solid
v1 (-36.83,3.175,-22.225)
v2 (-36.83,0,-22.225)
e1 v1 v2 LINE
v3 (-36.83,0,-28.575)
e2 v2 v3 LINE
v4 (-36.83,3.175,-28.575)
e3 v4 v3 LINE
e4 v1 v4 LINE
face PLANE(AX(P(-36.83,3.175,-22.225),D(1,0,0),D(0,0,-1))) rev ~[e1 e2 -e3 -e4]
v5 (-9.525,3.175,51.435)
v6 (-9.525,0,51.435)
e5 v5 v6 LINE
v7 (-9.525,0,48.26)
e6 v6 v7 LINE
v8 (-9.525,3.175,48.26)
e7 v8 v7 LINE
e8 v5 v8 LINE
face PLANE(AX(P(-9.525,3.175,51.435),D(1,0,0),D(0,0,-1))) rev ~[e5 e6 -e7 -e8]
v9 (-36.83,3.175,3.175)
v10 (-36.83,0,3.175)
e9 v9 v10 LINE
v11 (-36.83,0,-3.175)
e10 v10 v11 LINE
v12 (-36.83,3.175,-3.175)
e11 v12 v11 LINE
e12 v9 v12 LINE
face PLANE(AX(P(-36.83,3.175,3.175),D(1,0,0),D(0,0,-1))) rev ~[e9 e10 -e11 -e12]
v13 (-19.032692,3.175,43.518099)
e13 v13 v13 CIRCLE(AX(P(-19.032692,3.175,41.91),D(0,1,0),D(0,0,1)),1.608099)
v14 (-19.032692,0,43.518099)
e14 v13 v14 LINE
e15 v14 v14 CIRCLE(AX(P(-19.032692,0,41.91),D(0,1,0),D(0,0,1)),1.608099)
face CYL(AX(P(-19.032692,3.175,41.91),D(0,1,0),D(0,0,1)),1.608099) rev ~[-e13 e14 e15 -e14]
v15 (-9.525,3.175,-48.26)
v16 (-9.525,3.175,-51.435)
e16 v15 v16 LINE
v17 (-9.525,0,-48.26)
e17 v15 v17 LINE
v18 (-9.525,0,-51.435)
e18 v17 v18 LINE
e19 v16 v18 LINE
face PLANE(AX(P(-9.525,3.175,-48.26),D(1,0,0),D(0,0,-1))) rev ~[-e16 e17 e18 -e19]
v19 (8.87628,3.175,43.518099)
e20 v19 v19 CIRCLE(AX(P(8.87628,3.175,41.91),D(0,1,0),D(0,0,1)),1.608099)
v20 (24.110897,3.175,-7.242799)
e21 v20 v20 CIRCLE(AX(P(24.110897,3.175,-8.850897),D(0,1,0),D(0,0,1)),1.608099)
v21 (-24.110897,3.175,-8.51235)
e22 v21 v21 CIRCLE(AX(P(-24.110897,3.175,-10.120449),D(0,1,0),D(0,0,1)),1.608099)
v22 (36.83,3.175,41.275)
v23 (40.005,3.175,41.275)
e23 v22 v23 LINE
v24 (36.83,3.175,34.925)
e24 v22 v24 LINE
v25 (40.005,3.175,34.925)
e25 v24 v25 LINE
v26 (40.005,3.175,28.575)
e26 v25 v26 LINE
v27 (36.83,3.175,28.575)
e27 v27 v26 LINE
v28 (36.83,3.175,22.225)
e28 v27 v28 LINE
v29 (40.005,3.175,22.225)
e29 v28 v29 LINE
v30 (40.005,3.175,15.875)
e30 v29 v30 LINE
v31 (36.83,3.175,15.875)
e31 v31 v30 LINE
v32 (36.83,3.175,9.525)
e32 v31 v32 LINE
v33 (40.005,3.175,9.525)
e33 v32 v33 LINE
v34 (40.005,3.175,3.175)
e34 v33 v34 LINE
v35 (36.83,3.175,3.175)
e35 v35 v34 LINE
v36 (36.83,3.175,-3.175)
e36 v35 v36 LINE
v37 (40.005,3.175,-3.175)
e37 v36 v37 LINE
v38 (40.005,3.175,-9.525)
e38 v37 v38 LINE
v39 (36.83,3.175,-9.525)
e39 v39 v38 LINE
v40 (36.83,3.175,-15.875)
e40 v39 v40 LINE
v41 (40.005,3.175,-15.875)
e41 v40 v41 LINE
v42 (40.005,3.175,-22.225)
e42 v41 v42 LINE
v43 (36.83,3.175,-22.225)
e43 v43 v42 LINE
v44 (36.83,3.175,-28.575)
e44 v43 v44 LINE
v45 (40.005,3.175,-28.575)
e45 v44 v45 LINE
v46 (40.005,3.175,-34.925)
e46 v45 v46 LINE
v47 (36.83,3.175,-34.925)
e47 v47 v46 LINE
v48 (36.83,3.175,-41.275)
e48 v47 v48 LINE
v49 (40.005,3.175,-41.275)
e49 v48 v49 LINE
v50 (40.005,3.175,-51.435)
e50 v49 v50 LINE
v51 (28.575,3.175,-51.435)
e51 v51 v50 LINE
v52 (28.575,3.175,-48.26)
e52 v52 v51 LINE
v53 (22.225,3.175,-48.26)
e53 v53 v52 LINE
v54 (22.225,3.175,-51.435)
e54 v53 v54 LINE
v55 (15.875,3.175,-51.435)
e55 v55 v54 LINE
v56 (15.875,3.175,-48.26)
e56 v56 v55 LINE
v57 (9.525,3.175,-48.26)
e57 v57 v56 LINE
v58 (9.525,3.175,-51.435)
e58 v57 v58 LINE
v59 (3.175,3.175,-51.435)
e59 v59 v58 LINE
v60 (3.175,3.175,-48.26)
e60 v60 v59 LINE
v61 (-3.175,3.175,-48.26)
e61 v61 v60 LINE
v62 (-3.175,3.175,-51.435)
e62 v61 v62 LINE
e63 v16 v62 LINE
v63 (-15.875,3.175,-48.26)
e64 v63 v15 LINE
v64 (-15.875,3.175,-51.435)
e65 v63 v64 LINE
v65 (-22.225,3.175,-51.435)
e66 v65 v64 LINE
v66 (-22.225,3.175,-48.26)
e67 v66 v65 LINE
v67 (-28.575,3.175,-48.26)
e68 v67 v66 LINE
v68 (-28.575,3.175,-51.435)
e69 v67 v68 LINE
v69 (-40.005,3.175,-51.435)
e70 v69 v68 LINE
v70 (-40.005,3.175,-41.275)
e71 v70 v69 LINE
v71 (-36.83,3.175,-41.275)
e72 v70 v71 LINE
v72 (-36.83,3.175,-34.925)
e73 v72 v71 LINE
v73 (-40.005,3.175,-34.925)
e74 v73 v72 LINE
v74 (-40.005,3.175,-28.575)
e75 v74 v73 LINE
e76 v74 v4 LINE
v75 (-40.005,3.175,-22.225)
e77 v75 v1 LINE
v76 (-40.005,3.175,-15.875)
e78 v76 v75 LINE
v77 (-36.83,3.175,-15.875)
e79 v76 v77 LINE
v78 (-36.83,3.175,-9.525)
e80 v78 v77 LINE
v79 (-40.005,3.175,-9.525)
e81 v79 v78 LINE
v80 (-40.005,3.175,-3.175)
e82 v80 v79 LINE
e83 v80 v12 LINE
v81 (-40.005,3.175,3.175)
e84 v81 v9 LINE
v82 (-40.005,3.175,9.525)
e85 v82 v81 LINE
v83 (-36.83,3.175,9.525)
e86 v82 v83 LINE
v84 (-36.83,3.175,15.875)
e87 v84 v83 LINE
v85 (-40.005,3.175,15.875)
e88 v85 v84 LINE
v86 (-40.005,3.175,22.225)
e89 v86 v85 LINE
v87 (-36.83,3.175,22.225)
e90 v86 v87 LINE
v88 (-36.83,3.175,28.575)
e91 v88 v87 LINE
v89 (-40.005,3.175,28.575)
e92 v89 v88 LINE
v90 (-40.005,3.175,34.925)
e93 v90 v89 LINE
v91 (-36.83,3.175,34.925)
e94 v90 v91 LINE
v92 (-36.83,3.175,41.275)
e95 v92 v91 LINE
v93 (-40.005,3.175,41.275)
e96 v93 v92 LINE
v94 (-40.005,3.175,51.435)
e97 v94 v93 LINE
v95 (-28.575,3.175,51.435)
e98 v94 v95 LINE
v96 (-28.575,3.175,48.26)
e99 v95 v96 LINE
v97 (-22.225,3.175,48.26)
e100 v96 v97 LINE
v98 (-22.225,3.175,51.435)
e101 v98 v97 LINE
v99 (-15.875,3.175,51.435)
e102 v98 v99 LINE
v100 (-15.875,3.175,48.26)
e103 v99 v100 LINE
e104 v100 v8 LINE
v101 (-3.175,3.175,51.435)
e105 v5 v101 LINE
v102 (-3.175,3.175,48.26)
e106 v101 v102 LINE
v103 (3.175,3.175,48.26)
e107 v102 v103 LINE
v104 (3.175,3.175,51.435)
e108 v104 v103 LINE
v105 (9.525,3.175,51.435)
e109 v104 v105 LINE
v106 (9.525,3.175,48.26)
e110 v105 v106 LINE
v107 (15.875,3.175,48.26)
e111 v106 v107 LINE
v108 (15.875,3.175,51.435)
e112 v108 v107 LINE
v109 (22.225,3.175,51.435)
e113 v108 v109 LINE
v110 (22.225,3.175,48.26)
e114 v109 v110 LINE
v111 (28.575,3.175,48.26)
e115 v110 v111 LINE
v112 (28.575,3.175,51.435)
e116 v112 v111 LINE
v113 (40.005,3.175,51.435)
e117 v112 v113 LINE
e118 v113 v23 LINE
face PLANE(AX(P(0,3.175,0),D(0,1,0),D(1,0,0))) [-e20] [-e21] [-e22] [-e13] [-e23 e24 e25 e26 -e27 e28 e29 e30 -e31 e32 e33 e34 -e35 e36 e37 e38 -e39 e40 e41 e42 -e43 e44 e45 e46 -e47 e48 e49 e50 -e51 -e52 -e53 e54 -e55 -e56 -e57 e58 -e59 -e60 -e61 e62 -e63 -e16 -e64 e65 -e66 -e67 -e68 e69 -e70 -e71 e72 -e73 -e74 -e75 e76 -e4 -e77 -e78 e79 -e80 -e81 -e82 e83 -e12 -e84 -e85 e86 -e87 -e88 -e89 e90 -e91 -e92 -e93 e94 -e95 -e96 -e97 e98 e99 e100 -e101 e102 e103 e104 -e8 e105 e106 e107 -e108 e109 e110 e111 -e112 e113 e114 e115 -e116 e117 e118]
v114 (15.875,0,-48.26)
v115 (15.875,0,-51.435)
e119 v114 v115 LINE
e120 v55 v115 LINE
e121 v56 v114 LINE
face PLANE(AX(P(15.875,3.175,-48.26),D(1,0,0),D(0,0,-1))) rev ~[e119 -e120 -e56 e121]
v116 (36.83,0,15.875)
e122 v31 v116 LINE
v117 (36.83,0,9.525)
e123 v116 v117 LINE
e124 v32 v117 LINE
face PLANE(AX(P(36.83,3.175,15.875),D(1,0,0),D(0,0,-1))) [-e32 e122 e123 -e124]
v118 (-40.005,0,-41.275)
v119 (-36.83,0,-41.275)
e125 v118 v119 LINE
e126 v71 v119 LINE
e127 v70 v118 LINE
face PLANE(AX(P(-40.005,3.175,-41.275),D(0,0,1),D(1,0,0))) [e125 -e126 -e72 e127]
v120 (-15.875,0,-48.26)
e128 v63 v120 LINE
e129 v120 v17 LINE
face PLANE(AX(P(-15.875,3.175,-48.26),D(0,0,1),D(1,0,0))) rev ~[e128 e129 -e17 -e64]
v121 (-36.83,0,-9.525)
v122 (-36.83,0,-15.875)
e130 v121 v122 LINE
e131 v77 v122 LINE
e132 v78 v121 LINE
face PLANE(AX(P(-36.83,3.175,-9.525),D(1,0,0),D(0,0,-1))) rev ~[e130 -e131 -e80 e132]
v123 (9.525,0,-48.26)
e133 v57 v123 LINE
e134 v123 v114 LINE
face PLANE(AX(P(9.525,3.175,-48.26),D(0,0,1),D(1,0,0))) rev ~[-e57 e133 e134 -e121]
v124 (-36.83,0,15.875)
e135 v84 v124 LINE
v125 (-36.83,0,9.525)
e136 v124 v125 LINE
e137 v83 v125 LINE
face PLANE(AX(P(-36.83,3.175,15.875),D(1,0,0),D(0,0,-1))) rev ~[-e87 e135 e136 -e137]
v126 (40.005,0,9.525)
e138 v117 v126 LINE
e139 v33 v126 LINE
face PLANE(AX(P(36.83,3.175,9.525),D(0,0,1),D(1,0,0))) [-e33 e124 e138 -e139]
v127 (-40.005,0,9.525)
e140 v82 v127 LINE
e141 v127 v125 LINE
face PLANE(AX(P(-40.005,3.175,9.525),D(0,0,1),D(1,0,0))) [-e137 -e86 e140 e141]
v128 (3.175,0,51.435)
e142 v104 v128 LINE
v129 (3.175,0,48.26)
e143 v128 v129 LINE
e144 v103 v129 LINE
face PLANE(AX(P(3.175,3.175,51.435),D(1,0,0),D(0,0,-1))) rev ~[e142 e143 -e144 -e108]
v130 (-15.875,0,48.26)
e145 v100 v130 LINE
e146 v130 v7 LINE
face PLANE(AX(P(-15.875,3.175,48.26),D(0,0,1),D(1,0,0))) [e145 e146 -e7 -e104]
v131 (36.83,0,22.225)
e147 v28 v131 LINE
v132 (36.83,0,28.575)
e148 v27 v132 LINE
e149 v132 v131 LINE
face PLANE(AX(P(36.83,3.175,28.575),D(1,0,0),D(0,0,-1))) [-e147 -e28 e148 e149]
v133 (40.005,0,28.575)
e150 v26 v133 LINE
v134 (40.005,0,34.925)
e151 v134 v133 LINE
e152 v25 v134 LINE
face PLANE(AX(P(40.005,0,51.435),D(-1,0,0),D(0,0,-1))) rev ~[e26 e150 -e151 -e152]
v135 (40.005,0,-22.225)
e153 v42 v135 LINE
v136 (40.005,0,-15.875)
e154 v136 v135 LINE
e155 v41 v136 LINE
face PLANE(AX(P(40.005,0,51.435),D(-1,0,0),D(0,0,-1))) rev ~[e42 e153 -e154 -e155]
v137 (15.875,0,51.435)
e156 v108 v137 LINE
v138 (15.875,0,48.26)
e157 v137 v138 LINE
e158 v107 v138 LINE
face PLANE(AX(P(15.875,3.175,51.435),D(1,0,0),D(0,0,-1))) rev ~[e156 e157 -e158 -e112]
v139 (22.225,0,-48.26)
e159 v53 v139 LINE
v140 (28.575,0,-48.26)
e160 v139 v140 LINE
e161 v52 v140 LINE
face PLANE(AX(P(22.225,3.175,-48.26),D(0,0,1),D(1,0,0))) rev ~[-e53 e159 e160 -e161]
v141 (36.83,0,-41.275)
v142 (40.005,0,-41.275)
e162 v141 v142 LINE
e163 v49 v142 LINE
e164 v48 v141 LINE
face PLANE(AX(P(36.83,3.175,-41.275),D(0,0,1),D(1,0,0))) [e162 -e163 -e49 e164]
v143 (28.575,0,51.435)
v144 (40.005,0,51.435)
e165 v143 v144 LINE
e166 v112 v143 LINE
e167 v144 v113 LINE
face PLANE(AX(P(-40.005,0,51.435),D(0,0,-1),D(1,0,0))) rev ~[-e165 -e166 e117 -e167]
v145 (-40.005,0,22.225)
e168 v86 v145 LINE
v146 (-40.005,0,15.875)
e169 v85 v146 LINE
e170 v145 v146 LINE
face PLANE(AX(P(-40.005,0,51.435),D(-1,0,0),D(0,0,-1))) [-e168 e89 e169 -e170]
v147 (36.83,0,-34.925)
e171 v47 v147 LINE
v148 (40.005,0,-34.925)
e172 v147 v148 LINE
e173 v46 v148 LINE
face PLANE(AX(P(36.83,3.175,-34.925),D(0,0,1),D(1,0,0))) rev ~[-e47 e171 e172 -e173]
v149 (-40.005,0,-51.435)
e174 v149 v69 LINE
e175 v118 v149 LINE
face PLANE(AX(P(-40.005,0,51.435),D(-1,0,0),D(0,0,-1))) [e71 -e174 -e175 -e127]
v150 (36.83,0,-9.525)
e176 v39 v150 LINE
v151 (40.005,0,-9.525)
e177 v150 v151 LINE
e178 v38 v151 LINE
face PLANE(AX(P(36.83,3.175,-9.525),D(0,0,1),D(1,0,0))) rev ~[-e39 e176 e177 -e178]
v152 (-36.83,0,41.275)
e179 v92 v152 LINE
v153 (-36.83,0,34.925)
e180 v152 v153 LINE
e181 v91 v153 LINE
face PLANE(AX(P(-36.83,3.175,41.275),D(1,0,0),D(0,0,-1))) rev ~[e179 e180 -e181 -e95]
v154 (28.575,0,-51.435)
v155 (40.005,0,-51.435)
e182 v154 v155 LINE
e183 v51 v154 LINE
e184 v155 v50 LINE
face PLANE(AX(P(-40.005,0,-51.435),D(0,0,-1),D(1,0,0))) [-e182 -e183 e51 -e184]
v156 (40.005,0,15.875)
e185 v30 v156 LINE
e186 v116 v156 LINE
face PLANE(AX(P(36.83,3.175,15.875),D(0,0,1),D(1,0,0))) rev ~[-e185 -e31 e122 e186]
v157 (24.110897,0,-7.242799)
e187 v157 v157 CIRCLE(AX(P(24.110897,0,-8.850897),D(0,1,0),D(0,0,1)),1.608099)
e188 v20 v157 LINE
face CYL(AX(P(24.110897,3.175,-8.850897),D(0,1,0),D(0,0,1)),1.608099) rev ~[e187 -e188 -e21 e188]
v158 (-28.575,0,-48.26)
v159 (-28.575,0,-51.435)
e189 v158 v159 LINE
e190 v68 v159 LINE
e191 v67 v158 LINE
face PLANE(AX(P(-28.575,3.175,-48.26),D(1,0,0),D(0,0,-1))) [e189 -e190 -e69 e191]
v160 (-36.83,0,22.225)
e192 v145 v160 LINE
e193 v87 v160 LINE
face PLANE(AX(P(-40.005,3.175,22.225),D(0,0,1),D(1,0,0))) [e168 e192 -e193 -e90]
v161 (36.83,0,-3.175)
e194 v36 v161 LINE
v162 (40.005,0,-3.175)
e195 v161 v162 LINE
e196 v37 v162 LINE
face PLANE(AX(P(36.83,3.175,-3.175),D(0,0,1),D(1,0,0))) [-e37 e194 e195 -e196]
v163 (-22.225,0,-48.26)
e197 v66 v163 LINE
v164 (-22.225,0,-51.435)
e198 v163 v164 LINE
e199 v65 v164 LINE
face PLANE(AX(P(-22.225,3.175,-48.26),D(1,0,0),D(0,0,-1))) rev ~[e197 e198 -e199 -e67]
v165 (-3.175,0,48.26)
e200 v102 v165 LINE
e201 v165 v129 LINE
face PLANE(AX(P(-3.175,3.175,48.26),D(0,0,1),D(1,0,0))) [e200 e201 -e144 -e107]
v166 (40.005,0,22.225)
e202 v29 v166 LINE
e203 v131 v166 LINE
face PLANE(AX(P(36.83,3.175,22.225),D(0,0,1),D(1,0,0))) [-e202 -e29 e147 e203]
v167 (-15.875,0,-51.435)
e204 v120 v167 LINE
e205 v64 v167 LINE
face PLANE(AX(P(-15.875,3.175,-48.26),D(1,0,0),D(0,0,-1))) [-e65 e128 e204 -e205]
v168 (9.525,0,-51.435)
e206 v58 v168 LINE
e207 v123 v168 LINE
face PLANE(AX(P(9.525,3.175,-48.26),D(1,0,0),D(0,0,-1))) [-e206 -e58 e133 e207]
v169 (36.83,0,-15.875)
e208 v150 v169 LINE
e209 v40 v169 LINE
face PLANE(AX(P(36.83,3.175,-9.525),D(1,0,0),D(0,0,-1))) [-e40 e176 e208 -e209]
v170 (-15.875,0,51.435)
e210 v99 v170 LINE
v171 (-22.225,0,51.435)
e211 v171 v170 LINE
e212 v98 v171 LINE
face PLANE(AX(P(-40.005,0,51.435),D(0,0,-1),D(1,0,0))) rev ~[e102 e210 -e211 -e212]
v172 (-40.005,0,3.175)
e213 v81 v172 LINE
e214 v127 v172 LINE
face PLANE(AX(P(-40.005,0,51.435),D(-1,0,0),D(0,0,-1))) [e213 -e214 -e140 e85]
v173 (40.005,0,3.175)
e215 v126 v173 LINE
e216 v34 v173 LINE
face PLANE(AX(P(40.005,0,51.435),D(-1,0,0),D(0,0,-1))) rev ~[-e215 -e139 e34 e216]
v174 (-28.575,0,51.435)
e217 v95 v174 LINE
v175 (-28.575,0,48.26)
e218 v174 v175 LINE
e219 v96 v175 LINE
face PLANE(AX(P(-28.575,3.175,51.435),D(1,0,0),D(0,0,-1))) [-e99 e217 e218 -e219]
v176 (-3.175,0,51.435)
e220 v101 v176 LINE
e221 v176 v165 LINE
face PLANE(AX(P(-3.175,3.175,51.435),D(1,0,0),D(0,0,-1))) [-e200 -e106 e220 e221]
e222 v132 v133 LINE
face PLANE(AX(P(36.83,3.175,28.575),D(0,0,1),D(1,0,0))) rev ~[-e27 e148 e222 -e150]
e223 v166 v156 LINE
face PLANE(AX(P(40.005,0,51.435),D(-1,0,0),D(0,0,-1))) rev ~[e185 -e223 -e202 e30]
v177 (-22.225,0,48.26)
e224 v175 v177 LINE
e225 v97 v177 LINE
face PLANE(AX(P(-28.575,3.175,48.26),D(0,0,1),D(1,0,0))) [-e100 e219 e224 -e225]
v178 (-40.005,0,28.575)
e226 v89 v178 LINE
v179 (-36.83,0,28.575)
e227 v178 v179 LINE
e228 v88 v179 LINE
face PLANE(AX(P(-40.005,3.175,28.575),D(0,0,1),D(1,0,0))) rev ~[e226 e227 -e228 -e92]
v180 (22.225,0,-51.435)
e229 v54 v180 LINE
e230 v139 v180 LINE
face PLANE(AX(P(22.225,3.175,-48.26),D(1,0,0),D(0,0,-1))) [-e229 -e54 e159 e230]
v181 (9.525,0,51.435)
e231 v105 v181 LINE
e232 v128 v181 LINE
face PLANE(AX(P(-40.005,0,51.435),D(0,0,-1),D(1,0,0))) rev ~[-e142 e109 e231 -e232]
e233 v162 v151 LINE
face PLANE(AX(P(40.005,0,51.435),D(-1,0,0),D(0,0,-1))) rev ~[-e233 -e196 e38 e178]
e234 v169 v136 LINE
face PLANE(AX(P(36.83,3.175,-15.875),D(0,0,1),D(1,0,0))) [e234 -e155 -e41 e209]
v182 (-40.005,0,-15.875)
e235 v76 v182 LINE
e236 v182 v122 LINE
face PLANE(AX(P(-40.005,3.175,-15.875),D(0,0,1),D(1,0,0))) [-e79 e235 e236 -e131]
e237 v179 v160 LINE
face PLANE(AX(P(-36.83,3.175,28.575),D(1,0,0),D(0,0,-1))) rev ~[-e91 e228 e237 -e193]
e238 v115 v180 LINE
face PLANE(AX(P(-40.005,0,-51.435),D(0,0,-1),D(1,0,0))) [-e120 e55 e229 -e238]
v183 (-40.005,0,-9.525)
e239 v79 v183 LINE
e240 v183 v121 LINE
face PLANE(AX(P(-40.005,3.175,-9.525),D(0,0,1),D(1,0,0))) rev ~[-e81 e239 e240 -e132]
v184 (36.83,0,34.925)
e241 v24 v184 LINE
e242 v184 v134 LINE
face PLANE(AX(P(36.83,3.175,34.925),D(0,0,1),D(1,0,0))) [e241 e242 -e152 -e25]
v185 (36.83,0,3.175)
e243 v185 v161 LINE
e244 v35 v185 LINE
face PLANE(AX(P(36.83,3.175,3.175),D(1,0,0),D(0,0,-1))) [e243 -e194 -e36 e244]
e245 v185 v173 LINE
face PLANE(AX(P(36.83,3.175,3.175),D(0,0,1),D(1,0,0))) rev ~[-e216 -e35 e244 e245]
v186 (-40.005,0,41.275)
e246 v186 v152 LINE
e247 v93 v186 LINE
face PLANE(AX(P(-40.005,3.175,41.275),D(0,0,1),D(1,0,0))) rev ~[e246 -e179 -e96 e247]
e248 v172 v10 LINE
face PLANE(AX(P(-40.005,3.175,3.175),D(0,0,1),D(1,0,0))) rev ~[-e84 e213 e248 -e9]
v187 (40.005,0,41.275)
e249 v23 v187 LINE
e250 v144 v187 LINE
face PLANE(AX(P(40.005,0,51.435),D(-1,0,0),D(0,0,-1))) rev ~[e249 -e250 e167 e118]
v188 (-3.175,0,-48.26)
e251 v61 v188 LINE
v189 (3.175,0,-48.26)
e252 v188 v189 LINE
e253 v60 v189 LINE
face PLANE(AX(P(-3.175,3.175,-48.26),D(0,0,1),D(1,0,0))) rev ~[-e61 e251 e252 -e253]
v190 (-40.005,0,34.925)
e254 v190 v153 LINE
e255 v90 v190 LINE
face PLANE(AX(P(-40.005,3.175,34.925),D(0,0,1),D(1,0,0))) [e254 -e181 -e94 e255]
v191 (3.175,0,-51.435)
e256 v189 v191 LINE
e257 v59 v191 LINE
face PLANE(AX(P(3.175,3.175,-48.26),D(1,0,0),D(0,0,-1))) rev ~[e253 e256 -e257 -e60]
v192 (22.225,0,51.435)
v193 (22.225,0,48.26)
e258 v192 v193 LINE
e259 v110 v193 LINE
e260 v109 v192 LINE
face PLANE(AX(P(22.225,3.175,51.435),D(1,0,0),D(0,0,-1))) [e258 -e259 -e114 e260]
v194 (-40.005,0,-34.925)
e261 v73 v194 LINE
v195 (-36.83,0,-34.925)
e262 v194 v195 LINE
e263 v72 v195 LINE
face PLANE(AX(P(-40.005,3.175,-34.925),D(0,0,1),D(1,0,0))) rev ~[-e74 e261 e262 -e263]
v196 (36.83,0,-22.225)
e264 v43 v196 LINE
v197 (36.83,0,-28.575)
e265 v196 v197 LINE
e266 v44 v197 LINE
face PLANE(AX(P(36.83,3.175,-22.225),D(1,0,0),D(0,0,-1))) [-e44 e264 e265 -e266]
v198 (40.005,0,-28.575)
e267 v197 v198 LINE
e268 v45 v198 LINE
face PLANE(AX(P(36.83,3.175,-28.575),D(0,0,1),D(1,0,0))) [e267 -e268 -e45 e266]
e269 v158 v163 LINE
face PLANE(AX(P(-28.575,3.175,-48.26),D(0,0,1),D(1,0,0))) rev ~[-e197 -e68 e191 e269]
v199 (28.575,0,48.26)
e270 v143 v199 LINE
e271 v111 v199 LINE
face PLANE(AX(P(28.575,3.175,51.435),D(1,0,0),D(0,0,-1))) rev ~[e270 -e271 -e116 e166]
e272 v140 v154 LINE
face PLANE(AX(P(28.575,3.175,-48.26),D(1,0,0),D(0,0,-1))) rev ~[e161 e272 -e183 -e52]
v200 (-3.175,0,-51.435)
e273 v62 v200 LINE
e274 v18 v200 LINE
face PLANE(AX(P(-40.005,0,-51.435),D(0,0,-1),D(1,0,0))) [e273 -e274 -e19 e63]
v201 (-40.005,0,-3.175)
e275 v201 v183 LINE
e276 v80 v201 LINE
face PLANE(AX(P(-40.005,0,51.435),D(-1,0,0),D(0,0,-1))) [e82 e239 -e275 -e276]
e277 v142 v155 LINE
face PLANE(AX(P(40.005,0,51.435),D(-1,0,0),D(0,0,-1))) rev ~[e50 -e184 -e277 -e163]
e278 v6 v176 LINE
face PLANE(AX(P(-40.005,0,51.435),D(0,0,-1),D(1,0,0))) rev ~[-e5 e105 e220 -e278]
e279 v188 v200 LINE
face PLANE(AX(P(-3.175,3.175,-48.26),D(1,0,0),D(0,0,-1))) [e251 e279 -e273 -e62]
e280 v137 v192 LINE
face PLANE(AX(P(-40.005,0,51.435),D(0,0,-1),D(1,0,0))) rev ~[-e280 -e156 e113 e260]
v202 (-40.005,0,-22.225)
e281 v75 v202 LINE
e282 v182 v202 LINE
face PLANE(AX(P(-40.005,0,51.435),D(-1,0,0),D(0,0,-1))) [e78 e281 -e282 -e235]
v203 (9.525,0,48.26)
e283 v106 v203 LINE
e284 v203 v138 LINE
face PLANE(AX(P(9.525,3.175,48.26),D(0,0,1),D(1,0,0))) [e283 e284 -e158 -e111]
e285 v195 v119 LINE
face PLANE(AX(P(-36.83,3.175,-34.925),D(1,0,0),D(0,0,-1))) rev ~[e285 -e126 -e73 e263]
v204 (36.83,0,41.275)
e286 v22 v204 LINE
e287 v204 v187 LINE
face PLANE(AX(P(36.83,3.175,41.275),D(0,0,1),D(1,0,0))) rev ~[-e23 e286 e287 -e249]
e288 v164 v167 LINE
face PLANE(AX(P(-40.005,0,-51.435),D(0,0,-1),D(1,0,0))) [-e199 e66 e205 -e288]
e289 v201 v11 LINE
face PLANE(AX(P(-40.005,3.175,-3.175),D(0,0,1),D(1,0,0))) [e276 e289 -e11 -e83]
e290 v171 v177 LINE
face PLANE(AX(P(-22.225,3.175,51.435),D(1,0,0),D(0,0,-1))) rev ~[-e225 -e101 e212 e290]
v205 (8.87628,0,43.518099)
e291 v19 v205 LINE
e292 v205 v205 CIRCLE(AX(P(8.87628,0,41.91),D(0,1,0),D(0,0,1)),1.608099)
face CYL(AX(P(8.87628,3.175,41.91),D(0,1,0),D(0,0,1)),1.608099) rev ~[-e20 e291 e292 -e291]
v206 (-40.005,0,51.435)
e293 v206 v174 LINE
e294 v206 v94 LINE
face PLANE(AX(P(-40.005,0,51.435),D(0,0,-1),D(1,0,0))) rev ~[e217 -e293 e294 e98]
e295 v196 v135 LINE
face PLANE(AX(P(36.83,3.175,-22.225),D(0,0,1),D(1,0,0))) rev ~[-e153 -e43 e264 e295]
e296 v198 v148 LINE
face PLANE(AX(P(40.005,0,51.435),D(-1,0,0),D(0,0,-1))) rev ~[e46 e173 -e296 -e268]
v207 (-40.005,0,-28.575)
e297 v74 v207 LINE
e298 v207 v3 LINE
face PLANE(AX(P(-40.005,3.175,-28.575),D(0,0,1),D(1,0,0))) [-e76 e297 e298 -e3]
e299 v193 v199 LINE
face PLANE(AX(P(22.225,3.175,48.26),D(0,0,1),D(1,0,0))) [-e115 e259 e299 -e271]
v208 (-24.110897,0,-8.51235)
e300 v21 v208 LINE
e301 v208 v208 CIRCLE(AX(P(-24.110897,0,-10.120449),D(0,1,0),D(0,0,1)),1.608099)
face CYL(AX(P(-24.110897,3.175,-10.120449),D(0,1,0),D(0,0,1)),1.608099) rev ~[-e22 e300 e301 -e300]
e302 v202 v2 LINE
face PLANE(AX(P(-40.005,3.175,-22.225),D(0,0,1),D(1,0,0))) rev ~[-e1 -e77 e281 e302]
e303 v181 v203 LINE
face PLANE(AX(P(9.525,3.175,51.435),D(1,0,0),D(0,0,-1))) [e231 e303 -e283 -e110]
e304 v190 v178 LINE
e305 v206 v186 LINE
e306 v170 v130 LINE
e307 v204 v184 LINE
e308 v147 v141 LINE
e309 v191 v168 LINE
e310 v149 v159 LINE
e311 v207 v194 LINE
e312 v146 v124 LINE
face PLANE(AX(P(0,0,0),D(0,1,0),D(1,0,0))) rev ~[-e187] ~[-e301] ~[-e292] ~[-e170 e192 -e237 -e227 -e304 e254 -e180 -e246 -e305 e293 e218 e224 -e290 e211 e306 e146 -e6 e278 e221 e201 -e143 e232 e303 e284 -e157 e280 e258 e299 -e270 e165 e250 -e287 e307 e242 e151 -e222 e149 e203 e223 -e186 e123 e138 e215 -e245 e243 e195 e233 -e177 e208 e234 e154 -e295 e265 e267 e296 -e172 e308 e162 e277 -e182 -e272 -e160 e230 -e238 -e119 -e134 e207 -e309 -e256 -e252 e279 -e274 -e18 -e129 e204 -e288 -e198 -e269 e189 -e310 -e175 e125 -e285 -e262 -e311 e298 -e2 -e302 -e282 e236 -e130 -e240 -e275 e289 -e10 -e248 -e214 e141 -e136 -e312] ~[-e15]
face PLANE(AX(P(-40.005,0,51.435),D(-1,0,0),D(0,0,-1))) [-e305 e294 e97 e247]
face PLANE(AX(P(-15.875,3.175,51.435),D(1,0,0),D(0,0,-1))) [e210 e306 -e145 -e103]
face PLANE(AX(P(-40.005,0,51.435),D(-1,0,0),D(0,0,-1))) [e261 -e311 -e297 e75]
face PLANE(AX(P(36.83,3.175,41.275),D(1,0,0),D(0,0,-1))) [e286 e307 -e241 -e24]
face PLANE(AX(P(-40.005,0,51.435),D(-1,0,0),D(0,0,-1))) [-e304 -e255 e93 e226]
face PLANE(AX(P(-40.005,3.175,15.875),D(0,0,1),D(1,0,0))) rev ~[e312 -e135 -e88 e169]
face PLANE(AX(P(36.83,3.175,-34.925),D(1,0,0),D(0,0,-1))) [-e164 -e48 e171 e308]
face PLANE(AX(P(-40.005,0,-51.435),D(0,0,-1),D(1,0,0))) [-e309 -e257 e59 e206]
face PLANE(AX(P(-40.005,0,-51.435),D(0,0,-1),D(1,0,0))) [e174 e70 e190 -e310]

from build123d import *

# Parameters (mm, degrees)
SKETCH1_W           = 80.01
SKETCH1_H           = 102.87
BOSS_EXTRUDE1_DEPTH = 3.175
SKETCH2_W           = 3.175
SKETCH2_H           = 6.35
CUT_EXTRUDE1_DEPTH  = 4.175
SKETCH3_W           = 6.35
SKETCH3_H           = 3.175
CUT_EXTRUDE2_DEPTH  = 4.175
SKETCH8_R           = 1.60809856
SKETCH8_R_2         = 1.608098511
SKETCH8_R_3         = 1.608098562
CUT_EXTRUDE3_DEPTH  = 4.175


with BuildPart() as part:
    # Sketch1 → Boss-Extrude1 (new body)
    with BuildSketch(Plane(origin=(0, 0, 0), x_dir=(1, 0, 0), z_dir=(0, 1, 0))):
        Rectangle(SKETCH1_W, SKETCH1_H)
    extrude(amount=BOSS_EXTRUDE1_DEPTH)

    # Sketch2 → Cut-Extrude1 (cut, through all)
    with BuildSketch(Plane(origin=(0, 3.175, 0), x_dir=(1, 0, 0), z_dir=(0, 1, 0))):
        with Locations((-38.4175, -38.1)):
            Rectangle(SKETCH2_W, SKETCH2_H)
        with Locations((-38.4175, -25.4)):
            Rectangle(SKETCH2_W, SKETCH2_H)
        with Locations((-38.4175, -12.7)):
            Rectangle(SKETCH2_W, SKETCH2_H)
        with Locations((-38.4175, 0)):
            Rectangle(SKETCH2_W, SKETCH2_H)
        with Locations((-38.4175, 12.7)):
            Rectangle(SKETCH2_W, SKETCH2_H)
        with Locations((-38.4175, 25.4)):
            Rectangle(SKETCH2_W, SKETCH2_H)
        with Locations((38.4175, 25.4)):
            Rectangle(SKETCH2_W, SKETCH2_H)
        with Locations((38.4175, 12.7)):
            Rectangle(SKETCH2_W, SKETCH2_H)
        with Locations((38.4175, 0)):
            Rectangle(SKETCH2_W, SKETCH2_H)
        with Locations((38.4175, -12.7)):
            Rectangle(SKETCH2_W, SKETCH2_H)
        with Locations((38.4175, -25.4)):
            Rectangle(SKETCH2_W, SKETCH2_H)
        with Locations((38.4175, -38.1)):
            Rectangle(SKETCH2_W, SKETCH2_H)
        with Locations((-38.4175, 38.1)):
            Rectangle(SKETCH2_W, SKETCH2_H)
        with Locations((38.4175, 38.1)):
            Rectangle(SKETCH2_W, SKETCH2_H)
    extrude(amount=-CUT_EXTRUDE1_DEPTH, mode=Mode.SUBTRACT)

    # Sketch3 → Cut-Extrude2 (cut, through all)
    with BuildSketch(Plane(origin=(0, 3.175, 0), x_dir=(1, 0, 0), z_dir=(0, 1, 0))):
        with Locations((25.4, 49.8475)):
            Rectangle(SKETCH3_W, SKETCH3_H)
        with Locations((12.7, 49.8475)):
            Rectangle(SKETCH3_W, SKETCH3_H)
        with Locations((0, 49.8475)):
            Rectangle(SKETCH3_W, SKETCH3_H)
        with Locations((-12.7, 49.8475)):
            Rectangle(SKETCH3_W, SKETCH3_H)
        with Locations((-12.7, -49.8475)):
            Rectangle(SKETCH3_W, SKETCH3_H)
        with Locations((0, -49.8475)):
            Rectangle(SKETCH3_W, SKETCH3_H)
        with Locations((12.7, -49.8475)):
            Rectangle(SKETCH3_W, SKETCH3_H)
        with Locations((25.4, -49.8475)):
            Rectangle(SKETCH3_W, SKETCH3_H)
        with Locations((-25.4, -49.8475)):
            Rectangle(SKETCH3_W, SKETCH3_H)
        with Locations((-25.4, 49.8475)):
            Rectangle(SKETCH3_W, SKETCH3_H)
    extrude(amount=-CUT_EXTRUDE2_DEPTH, mode=Mode.SUBTRACT)

    # Sketch8 → Cut-Extrude3 (cut, through all)
    with BuildSketch(Plane(origin=(-2.403797872, 3.175, 1.855162727), x_dir=(0, 0, 1), z_dir=(0, 1, 0))):
        with Locations((-10.706059909, 26.514695053)):
            Circle(SKETCH8_R)
        with Locations((-11.975611322, -21.707099309)):
            Circle(SKETCH8_R_2)
        with Locations((40.054837273, -16.628893673)):
            Circle(SKETCH8_R_3)
        with Locations((40.054837273, 11.280078142)):
            Circle(SKETCH8_R)
    extrude(amount=-CUT_EXTRUDE3_DEPTH, mode=Mode.SUBTRACT)


solid = part.part
